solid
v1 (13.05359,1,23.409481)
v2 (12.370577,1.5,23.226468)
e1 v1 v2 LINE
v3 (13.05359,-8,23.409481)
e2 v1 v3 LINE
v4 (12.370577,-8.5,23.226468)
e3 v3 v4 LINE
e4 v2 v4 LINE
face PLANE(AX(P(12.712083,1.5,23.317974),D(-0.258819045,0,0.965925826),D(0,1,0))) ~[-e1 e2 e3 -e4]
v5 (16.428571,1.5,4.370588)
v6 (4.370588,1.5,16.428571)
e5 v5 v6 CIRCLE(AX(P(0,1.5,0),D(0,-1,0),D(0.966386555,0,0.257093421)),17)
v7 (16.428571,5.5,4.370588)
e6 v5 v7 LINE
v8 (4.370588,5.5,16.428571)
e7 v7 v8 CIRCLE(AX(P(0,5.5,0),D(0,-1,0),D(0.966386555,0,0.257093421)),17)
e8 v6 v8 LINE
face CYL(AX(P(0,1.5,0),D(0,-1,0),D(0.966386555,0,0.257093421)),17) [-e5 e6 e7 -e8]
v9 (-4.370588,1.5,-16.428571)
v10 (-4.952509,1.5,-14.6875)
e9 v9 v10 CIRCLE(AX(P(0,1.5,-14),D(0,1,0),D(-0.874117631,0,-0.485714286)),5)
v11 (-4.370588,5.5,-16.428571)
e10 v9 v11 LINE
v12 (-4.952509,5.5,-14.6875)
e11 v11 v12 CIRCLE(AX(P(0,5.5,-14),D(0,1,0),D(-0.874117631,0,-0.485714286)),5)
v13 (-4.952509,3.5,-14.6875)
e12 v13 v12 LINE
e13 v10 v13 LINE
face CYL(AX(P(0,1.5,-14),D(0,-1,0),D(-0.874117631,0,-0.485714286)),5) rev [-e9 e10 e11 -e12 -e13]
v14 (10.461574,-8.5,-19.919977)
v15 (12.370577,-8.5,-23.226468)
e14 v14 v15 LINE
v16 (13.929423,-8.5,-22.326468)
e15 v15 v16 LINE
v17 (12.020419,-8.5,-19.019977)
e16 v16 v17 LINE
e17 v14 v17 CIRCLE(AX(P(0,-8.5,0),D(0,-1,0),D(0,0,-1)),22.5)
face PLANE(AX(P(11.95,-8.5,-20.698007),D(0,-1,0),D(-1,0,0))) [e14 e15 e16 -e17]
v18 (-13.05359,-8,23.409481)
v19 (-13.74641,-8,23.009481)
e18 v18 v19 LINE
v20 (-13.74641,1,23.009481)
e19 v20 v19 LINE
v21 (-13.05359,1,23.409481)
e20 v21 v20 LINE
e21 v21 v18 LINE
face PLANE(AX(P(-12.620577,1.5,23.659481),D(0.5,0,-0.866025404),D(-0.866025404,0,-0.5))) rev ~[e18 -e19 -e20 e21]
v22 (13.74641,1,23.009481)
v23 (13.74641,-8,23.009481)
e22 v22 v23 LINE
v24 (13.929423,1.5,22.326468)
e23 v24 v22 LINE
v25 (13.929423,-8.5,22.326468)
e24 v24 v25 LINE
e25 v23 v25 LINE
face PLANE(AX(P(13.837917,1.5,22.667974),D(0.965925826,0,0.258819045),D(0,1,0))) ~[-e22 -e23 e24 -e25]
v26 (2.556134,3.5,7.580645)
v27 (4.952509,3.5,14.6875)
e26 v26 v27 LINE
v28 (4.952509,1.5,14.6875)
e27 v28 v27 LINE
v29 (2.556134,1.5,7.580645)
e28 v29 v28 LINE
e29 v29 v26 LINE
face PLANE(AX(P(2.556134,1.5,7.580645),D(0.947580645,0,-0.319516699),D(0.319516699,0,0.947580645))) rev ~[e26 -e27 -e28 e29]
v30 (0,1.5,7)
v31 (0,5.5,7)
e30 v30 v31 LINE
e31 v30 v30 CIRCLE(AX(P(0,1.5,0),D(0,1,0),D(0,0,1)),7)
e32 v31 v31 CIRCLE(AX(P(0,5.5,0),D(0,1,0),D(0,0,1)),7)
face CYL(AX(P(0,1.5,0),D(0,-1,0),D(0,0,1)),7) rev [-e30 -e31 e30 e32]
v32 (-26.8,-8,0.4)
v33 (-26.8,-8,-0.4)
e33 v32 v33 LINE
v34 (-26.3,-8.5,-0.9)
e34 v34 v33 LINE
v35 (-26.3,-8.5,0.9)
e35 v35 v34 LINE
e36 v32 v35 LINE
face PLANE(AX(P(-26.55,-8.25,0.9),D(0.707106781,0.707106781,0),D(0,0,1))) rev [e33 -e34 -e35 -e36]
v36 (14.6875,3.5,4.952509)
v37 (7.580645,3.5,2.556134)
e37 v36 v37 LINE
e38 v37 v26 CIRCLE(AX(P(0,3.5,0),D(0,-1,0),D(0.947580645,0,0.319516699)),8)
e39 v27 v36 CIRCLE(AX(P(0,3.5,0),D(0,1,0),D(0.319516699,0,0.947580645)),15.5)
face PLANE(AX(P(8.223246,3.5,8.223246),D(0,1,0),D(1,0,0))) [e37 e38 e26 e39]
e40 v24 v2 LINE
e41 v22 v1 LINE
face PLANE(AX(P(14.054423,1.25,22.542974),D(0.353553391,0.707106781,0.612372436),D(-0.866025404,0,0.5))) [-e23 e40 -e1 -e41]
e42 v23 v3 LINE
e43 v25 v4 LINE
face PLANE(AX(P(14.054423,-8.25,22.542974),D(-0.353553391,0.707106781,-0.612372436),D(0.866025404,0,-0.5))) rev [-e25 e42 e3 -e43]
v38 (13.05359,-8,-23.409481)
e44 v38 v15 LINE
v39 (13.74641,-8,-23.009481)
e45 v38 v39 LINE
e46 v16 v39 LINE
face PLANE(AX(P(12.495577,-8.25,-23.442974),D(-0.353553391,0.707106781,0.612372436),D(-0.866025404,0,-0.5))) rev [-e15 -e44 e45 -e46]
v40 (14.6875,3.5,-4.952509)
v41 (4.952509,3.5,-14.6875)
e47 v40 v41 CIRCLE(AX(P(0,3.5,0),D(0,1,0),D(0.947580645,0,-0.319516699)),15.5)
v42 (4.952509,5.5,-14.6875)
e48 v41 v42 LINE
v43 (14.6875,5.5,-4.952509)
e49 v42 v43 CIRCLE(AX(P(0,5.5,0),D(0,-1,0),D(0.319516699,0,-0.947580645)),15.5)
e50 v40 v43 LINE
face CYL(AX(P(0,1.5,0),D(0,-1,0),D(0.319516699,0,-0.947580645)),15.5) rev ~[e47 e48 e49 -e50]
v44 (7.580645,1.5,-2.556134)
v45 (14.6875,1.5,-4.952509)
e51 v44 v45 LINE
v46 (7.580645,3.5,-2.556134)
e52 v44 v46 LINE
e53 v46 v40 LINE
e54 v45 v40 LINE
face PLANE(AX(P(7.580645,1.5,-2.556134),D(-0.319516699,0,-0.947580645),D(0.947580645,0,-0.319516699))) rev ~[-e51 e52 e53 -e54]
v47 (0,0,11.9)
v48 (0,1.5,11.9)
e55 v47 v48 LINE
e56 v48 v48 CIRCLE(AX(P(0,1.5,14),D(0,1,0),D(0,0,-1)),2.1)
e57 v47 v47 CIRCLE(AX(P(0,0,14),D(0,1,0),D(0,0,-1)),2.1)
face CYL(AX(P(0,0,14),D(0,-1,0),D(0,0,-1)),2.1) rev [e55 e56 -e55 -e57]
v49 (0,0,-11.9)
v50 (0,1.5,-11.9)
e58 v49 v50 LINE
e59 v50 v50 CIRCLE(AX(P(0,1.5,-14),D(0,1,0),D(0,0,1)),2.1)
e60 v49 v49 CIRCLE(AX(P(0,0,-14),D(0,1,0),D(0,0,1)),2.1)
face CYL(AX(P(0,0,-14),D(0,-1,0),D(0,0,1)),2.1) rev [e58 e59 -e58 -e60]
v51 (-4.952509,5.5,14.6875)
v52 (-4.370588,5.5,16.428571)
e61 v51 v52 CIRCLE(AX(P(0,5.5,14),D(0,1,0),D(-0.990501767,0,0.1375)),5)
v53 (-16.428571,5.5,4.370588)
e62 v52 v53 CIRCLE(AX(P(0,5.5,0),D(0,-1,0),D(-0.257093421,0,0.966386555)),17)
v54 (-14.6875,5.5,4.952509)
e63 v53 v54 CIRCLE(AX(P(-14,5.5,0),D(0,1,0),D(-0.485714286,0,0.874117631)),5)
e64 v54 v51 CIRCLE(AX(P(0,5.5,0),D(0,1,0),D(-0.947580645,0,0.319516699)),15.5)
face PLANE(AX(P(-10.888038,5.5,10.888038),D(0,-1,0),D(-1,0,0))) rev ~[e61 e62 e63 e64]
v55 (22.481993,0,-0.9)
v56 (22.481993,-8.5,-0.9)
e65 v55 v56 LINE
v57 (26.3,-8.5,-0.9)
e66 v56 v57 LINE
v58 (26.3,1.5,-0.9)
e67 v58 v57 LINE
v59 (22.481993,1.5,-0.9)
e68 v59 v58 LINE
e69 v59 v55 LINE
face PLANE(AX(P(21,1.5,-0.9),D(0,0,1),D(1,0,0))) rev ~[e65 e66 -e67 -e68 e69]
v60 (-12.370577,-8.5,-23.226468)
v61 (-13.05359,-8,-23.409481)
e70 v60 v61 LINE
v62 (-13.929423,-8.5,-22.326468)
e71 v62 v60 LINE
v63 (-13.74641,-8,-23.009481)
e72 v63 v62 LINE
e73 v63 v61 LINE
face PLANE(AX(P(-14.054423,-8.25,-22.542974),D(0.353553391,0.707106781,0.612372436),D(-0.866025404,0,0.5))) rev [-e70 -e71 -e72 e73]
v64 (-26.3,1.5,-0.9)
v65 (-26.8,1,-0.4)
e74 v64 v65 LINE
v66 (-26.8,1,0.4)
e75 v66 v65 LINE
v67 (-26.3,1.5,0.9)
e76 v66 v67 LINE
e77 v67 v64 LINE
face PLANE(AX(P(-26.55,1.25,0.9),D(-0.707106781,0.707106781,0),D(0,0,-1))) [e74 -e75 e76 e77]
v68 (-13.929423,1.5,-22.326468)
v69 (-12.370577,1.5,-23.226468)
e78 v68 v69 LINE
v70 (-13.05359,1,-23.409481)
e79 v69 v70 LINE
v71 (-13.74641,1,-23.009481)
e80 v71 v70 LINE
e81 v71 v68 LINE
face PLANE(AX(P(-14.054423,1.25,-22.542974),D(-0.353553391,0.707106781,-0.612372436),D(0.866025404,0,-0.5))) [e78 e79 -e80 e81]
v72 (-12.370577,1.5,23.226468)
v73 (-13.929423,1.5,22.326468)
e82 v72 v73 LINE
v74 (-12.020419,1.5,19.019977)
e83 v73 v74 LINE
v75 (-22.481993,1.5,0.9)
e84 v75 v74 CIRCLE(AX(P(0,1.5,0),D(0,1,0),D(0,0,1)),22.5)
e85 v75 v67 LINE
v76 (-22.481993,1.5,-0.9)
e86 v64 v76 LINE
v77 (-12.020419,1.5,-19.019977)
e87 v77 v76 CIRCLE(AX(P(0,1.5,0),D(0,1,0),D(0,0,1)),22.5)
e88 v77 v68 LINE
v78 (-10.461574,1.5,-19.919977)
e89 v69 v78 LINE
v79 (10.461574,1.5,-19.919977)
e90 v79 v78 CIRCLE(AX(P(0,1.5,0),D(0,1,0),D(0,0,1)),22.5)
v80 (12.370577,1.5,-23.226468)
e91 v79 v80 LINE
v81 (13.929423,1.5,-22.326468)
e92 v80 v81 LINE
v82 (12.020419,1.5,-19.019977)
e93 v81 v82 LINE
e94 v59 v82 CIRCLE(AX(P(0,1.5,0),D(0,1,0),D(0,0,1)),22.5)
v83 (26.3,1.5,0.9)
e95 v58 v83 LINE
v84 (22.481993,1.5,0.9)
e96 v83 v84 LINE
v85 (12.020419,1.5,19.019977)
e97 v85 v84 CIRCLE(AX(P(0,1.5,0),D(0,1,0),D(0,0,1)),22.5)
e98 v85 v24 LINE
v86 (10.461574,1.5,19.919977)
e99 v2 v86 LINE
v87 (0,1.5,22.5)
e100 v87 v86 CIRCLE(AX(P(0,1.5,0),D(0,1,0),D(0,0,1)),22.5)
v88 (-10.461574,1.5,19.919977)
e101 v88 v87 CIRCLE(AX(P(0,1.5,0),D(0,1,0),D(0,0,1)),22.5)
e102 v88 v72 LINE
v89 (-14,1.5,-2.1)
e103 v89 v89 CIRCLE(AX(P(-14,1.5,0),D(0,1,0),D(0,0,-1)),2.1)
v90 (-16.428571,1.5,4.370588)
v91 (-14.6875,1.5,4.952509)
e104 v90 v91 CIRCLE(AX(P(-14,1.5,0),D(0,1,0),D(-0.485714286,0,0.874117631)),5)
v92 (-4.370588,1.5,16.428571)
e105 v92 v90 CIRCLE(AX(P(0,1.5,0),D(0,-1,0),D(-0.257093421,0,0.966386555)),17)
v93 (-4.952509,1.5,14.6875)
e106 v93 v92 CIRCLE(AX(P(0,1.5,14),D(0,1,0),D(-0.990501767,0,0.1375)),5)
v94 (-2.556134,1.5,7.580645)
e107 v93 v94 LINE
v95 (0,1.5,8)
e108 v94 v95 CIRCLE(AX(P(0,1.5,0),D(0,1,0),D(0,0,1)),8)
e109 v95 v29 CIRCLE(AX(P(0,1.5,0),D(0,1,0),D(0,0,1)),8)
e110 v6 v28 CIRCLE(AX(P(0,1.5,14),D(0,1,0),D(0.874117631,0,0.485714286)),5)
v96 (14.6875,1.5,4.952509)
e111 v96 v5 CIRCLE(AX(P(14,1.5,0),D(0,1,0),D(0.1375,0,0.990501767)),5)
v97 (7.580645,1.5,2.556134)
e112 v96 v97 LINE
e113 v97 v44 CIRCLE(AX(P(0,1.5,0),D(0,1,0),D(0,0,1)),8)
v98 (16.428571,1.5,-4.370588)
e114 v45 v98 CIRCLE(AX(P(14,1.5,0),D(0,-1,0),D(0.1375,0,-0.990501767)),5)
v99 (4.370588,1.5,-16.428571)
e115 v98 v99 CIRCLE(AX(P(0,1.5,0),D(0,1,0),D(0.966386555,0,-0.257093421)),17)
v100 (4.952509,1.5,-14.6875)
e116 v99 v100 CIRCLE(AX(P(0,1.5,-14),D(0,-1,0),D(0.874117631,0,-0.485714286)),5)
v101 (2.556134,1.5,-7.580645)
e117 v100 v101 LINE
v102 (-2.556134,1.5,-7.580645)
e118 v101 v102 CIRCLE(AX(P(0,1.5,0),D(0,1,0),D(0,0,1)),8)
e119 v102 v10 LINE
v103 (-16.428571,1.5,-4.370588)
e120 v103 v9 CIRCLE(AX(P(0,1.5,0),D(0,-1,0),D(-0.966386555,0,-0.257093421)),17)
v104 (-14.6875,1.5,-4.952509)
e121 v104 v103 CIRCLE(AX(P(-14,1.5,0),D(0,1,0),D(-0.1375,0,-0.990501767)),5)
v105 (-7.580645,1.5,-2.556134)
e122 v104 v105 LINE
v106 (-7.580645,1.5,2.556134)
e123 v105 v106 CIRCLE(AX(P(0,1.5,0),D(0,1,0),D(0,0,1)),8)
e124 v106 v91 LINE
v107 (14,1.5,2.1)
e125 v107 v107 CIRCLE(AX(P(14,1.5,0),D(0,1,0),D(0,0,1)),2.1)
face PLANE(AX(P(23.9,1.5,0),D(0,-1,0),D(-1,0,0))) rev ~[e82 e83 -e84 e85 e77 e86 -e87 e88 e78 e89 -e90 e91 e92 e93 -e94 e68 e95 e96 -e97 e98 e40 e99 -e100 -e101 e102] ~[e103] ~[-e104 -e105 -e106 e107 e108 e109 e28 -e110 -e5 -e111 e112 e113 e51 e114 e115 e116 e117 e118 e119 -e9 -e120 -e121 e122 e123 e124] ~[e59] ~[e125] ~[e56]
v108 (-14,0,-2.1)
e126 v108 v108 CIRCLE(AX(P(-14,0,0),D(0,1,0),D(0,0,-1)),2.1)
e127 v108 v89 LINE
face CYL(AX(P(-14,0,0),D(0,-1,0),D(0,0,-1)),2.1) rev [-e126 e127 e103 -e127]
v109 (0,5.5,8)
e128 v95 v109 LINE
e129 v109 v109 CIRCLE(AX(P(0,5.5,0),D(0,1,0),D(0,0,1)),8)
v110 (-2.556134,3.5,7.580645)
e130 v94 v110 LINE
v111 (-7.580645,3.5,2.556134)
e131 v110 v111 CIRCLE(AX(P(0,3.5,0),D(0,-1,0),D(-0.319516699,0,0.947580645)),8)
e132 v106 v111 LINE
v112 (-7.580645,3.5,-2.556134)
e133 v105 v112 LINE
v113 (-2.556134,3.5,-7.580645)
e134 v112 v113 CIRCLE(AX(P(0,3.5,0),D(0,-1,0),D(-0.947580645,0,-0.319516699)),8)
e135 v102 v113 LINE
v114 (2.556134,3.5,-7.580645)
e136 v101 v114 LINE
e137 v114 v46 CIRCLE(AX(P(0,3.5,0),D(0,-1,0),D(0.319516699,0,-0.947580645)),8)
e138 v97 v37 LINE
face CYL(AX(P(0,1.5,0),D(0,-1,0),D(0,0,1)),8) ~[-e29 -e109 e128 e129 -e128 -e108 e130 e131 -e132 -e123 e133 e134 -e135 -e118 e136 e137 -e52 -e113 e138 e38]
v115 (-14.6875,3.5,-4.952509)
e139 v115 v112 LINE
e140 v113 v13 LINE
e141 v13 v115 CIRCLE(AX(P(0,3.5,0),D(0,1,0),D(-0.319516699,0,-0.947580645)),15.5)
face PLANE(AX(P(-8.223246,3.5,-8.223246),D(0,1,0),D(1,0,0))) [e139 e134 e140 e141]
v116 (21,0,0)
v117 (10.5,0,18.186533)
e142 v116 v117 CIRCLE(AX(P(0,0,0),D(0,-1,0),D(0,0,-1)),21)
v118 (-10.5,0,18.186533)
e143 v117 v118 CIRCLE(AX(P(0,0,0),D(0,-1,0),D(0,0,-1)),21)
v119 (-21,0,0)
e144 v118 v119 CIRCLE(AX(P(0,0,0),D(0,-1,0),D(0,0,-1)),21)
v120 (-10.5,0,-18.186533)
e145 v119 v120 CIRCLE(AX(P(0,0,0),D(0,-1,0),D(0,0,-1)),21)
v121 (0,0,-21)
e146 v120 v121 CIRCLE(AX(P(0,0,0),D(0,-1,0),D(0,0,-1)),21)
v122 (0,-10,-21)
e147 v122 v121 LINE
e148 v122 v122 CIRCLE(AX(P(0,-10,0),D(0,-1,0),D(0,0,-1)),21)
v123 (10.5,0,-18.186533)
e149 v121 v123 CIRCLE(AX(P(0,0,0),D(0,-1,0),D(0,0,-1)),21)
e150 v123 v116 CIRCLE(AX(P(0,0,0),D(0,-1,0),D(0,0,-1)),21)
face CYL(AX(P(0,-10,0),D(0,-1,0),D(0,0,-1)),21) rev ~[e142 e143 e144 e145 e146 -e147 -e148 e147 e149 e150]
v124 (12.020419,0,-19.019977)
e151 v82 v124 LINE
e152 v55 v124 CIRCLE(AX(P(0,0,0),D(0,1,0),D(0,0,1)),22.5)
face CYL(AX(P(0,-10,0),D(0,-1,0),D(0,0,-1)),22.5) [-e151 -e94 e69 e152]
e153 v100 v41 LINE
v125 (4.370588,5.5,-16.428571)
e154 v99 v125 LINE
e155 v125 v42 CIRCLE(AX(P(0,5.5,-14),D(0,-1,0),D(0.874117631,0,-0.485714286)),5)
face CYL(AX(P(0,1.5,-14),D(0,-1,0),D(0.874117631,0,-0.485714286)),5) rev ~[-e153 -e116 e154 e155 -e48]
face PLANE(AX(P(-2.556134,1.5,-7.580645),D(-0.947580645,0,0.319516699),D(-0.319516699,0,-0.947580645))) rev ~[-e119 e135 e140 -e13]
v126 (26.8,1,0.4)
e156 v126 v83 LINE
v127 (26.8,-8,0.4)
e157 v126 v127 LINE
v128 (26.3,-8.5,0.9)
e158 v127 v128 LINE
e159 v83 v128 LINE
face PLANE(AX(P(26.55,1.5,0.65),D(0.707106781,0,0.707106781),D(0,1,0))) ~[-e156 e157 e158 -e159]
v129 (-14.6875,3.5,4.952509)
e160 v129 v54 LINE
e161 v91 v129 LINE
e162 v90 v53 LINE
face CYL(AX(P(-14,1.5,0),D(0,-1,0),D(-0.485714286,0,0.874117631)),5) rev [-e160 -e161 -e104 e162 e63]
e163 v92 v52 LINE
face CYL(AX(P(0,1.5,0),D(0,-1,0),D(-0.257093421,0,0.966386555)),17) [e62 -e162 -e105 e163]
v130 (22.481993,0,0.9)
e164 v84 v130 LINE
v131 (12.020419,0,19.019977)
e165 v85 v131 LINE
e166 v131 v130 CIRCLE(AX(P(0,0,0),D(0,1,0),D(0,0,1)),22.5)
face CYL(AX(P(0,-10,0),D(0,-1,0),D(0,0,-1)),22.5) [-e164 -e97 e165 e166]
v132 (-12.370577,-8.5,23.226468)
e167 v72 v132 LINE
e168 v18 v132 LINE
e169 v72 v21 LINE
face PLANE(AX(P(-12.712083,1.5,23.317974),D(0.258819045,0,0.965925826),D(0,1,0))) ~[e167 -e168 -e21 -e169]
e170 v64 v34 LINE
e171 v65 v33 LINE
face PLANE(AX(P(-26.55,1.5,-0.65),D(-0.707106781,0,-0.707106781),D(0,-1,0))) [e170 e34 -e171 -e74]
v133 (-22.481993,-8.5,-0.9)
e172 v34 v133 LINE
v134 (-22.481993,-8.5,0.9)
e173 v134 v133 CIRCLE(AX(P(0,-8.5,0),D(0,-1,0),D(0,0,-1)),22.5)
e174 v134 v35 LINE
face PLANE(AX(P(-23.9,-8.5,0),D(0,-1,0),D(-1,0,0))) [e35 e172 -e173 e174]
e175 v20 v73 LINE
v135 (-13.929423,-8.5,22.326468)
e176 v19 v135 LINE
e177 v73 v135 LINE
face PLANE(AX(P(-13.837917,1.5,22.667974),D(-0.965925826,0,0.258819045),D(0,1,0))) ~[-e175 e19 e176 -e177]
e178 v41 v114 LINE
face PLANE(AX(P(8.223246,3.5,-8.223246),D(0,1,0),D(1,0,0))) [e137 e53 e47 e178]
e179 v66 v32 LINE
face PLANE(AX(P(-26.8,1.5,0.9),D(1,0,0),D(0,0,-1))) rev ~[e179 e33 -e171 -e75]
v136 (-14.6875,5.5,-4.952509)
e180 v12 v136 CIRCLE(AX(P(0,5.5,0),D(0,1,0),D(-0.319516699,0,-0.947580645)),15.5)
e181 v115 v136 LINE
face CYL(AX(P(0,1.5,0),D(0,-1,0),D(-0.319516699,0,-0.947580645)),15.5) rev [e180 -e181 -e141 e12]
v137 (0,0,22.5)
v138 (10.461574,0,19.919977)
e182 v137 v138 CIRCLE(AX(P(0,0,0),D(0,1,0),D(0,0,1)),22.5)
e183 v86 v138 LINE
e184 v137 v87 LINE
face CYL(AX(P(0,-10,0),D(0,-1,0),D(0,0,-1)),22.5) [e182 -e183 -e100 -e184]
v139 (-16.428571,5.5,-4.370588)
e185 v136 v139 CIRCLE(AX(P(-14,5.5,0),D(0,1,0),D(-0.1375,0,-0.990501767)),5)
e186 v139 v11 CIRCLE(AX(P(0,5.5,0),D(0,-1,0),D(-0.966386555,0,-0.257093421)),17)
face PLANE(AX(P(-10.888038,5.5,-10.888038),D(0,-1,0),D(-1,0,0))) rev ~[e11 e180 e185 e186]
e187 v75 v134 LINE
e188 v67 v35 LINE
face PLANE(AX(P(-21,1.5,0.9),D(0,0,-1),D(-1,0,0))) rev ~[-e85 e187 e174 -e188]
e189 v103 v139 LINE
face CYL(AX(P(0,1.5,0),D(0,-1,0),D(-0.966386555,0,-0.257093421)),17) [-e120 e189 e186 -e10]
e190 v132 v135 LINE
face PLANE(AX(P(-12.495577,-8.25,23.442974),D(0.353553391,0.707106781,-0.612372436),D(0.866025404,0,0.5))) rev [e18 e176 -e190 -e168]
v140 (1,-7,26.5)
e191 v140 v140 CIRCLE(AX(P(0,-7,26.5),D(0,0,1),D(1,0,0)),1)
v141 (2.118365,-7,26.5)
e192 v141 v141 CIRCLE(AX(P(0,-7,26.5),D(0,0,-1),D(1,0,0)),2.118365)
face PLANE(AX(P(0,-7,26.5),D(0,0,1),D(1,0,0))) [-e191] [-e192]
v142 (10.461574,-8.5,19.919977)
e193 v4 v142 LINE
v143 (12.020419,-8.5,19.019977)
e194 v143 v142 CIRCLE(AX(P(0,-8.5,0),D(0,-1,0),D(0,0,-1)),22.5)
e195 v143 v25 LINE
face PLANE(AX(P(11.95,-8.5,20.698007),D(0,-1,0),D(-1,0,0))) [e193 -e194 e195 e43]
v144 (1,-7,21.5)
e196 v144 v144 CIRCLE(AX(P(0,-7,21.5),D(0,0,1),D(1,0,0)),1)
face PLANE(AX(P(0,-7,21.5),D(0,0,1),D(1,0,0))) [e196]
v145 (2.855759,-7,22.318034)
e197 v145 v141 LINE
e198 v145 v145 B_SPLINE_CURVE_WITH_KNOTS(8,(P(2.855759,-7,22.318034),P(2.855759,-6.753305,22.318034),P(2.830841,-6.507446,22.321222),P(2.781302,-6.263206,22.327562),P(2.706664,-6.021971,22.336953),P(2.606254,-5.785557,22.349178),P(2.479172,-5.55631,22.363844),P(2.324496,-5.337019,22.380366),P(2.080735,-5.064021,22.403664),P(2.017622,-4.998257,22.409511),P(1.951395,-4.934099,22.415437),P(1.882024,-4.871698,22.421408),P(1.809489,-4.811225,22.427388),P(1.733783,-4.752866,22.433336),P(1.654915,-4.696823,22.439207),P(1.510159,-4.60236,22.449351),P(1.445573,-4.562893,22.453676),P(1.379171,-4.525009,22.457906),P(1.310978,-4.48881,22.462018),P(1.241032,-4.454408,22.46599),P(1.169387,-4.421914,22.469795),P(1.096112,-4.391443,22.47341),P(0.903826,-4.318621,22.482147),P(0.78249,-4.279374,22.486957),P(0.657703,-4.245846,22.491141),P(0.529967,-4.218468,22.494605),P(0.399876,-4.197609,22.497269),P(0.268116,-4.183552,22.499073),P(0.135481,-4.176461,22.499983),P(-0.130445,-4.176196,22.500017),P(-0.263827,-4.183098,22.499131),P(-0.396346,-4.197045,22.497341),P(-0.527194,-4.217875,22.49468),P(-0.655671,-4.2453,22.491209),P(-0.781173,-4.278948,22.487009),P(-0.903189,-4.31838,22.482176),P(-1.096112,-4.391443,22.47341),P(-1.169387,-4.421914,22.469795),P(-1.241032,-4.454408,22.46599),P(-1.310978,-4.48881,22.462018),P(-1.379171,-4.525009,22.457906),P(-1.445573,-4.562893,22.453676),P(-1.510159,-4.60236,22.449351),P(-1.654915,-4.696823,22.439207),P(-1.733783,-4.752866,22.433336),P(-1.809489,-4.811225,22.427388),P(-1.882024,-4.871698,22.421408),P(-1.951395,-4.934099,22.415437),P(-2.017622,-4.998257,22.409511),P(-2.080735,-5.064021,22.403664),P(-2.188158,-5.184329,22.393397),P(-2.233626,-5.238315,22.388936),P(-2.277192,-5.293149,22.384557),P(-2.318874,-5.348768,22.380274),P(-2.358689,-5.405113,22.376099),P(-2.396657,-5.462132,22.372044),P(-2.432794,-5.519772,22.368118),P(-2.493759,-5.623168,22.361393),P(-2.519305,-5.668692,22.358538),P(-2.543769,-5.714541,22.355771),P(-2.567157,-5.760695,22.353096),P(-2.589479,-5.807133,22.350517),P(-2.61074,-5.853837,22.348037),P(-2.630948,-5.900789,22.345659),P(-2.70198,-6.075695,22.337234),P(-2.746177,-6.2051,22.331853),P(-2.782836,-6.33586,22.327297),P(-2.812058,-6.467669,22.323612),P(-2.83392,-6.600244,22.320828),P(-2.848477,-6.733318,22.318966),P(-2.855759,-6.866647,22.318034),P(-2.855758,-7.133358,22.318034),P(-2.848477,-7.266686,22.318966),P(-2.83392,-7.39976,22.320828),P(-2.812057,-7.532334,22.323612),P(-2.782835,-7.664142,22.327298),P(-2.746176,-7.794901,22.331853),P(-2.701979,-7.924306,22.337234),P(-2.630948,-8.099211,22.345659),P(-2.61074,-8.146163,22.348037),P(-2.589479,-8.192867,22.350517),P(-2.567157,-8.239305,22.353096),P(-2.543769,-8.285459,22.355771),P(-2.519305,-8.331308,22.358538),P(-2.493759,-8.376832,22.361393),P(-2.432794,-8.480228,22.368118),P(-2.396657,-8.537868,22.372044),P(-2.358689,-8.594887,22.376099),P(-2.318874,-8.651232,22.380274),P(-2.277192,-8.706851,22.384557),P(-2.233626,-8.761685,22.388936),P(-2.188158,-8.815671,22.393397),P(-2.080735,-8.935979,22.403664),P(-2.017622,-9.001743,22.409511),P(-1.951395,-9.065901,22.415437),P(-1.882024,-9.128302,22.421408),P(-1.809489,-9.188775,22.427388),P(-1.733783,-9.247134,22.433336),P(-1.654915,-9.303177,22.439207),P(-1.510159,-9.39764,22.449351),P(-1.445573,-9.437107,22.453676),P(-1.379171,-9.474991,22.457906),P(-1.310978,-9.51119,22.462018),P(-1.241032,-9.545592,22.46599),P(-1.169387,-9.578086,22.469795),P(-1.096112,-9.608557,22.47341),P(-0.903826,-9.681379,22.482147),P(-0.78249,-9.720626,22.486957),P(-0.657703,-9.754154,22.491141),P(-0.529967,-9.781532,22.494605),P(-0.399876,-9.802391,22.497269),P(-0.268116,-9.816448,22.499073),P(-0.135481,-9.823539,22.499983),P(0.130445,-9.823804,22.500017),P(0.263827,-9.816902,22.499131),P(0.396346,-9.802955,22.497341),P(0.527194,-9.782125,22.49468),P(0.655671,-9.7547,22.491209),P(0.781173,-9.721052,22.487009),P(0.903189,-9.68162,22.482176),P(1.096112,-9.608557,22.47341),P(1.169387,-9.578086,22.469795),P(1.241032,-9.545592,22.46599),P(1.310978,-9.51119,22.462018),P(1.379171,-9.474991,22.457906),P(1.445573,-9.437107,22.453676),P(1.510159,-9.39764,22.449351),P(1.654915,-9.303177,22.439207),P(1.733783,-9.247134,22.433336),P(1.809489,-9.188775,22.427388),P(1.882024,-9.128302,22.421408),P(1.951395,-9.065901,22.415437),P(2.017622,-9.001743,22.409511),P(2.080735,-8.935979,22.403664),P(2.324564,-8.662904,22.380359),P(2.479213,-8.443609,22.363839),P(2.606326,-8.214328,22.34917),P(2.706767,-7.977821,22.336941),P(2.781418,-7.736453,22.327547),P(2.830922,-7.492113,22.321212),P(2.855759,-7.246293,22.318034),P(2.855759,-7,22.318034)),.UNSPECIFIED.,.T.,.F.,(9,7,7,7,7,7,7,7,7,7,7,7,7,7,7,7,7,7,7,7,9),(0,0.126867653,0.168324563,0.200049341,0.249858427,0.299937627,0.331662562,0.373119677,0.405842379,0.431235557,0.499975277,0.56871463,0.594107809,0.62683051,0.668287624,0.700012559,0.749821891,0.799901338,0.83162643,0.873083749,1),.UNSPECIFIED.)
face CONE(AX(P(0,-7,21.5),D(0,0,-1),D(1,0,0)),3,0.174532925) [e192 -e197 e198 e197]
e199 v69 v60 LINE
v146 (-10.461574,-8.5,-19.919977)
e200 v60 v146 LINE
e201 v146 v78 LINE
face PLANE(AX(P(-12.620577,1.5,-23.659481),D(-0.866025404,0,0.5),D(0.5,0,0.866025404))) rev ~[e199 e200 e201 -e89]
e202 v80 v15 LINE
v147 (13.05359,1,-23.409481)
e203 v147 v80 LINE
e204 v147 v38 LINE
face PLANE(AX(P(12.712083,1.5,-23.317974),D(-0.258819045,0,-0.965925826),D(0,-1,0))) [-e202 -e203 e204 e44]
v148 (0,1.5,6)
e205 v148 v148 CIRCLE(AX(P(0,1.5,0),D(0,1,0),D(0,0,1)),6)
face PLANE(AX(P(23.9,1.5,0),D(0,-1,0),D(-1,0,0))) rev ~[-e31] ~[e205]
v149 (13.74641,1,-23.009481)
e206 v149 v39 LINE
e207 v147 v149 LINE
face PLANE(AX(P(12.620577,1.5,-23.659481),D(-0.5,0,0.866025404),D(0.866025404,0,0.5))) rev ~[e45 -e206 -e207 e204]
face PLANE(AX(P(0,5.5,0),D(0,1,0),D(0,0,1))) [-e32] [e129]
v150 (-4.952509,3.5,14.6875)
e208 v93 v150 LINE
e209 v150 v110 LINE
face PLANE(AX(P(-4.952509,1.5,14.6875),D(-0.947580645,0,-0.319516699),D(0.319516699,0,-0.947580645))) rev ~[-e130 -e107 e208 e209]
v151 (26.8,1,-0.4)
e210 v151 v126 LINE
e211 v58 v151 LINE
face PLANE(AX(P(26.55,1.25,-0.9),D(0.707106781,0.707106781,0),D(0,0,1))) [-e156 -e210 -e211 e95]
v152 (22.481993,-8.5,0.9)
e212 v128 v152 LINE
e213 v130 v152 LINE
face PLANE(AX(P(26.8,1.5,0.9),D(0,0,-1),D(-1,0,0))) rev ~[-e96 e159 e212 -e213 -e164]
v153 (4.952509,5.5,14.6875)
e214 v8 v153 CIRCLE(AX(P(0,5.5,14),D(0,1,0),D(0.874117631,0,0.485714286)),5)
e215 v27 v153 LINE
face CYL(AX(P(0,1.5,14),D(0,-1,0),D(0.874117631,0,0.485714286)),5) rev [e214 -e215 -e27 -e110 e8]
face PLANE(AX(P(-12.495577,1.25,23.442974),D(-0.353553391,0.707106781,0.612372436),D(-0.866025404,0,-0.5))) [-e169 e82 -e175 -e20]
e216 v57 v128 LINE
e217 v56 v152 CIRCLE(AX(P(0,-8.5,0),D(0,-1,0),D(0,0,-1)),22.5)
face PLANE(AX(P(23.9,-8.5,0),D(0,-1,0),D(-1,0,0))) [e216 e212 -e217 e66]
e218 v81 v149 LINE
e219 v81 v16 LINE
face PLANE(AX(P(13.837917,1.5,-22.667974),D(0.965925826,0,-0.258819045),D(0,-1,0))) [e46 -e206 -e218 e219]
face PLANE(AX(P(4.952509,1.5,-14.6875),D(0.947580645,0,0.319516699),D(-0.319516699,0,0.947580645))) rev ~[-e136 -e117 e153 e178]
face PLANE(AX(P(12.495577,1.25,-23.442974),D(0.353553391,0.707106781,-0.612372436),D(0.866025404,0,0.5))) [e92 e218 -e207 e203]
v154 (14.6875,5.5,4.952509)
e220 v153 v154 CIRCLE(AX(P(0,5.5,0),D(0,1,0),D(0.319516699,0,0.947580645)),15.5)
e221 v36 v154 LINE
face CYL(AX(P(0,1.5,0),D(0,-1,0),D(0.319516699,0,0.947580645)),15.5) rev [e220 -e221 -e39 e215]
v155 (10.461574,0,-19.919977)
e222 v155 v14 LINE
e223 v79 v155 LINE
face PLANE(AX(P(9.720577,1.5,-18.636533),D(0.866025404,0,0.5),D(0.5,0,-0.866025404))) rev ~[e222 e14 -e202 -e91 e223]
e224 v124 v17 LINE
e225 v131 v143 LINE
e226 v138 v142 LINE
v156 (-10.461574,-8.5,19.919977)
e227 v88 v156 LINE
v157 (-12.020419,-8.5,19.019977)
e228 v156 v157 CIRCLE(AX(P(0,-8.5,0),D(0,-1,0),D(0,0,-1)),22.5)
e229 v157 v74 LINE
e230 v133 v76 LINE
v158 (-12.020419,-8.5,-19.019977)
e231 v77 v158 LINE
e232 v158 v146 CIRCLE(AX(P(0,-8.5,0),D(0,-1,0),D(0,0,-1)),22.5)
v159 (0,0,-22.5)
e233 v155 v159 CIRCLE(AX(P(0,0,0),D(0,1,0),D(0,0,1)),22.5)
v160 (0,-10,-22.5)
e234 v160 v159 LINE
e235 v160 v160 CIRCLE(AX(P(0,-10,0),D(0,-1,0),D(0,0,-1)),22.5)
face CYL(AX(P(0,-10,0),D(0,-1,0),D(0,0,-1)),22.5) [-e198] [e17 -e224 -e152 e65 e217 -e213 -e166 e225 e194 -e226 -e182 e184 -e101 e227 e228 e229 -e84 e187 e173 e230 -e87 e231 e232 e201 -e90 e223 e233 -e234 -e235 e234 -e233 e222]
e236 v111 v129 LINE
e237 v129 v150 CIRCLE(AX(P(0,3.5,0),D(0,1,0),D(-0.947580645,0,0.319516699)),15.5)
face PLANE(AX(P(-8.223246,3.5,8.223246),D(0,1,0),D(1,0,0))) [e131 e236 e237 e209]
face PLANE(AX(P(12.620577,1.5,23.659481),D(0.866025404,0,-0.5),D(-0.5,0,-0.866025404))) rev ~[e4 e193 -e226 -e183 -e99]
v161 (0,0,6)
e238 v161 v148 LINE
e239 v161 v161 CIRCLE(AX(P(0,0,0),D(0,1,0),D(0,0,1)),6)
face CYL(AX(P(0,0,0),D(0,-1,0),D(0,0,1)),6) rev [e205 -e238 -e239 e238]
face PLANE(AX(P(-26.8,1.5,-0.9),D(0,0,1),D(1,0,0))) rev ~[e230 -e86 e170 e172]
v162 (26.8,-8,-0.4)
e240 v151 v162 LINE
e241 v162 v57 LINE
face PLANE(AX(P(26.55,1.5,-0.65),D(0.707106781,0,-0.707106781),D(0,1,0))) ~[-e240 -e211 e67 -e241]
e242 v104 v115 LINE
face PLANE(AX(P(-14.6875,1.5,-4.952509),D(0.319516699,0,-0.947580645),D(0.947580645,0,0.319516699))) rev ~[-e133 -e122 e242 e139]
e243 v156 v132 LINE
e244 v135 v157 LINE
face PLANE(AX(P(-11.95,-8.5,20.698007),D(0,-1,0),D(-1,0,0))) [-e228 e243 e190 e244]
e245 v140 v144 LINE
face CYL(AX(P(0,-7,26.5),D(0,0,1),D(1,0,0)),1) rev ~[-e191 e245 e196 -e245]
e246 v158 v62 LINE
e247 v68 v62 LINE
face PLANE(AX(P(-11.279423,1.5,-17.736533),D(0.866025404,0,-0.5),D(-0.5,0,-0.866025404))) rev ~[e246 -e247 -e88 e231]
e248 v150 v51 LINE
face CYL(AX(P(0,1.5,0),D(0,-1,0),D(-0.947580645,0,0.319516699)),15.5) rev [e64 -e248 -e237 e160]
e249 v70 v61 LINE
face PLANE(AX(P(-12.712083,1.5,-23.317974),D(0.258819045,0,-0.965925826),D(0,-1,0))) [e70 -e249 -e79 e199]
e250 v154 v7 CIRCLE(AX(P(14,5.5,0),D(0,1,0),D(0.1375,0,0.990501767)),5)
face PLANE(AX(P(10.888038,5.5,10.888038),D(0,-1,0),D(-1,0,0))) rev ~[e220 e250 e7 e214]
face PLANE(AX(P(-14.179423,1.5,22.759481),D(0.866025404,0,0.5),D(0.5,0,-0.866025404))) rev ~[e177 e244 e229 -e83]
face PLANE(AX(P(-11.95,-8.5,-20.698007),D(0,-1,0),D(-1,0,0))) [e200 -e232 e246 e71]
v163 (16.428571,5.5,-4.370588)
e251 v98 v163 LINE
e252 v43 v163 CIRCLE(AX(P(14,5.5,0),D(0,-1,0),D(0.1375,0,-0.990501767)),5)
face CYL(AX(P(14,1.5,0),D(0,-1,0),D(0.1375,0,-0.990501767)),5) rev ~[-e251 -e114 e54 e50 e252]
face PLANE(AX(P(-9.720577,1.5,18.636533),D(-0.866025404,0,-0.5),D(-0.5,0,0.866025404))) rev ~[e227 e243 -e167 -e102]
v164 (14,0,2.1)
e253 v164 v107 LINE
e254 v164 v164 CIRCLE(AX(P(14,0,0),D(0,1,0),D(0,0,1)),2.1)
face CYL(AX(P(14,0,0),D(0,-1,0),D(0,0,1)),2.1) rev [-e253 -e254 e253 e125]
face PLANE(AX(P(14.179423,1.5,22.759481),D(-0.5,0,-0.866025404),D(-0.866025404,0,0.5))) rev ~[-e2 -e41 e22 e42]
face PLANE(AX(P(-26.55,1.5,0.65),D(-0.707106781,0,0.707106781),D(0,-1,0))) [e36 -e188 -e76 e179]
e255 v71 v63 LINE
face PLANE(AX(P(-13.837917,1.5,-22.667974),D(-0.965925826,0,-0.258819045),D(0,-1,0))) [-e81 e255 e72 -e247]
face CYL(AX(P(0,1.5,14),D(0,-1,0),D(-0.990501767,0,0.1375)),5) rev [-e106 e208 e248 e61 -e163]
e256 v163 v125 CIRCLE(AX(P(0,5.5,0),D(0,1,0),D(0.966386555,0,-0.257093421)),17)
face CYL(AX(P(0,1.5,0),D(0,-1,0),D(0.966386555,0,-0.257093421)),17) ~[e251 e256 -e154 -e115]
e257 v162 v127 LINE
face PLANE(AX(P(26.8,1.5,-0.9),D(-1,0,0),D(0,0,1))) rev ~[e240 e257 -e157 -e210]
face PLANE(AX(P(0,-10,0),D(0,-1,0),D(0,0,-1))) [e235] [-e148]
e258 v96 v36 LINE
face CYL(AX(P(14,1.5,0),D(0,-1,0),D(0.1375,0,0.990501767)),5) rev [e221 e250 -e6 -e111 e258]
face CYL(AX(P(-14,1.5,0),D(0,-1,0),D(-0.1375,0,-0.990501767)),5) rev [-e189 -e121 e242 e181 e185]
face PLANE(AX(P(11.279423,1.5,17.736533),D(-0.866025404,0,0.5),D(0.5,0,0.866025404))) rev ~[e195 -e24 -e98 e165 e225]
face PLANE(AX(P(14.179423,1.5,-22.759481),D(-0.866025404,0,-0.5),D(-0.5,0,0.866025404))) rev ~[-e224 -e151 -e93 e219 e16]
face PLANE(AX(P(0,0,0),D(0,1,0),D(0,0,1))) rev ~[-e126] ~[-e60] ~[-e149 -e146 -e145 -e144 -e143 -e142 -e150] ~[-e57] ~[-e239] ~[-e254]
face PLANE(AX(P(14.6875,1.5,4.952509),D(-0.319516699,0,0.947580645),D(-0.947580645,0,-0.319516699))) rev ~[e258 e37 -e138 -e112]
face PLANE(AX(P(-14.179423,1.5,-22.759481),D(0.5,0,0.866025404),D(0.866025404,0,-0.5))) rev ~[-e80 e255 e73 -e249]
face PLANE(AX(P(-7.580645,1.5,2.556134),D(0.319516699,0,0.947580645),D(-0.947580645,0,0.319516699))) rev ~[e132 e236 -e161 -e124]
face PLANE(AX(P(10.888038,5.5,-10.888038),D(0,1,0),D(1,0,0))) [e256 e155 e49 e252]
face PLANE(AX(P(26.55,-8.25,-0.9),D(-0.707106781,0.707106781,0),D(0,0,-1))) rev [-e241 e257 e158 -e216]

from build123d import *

# Parameters (mm, degrees)
SKETCH_2_R          = 22.5
SKETCH_2_R_2        = 2.0999999999999956
SKETCH_2_R_3        = 2.1
SKETCH_2_R_4        = 2.0999999999999974
SKETCH_2_R_5        = 6
EXTRUDE_1_DEPTH     = 1.5
EXTRUDE_START       = 10
SKETCH_4_R          = 22.500000000000004
SKETCH_4_R_2        = 21
EXTRUDE_2_DEPTH     = 10
EXTRUDE_3_DEPTH     = 10
SKETCH_6_R          = 8
SKETCH_6_R_2        = 7
EXTRUDE_4_DEPTH     = 4
EXTRUDE_5_DEPTH     = 2
CHAMFER_1_SIZE      = 0.5
EXTRUDE_START_2     = 21.5
SKETCH_9_R          = 3
EXTRUDE_6_DEPTH     = 5
EXTRUDE_6_TAPER     = 10.000000000000021
SKETCH_10_R         = 1
CUT_EXTRUDE_1_DEPTH = 5


with BuildPart() as part:
    # 草图2 → 凸台-拉伸1 (new body)
    with BuildSketch(Plane(origin=(0, 0, 0), x_dir=(1, 0, 0), z_dir=(0, 1, 0))):
        with Locations(Location((0, 0, 0), (0, 0, 270))):
            Circle(SKETCH_2_R)
        with Locations(Location((14, 0, 0), (0, 0, 270))):
            Circle(SKETCH_2_R_2, mode=Mode.SUBTRACT)
        with Locations(Location((0, 14, 0), (0, 0, 270))):
            Circle(SKETCH_2_R_3, mode=Mode.SUBTRACT)
        with Locations(Location((0, -14, 0), (0, 0, 90))):
            Circle(SKETCH_2_R_3, mode=Mode.SUBTRACT)
        with Locations(Location((-13.999999999999993, -3.43e-15, 0), (0, 0, 90))):
            Circle(SKETCH_2_R_4, mode=Mode.SUBTRACT)
        with Locations(Location((0, 0, 0), (0, 0, 270))):
            Circle(SKETCH_2_R_5, mode=Mode.SUBTRACT)
    extrude(amount=EXTRUDE_1_DEPTH)

    # 草图4 → 凸台-拉伸2 (add)
    with BuildSketch(Plane.XZ.offset(EXTRUDE_START)):
        with Locations(Location((0, 0, 0), (0, 0, 270))):
            Circle(SKETCH_4_R)
        with Locations(Location((0, 0, 0), (0, 0, 270))):
            Circle(SKETCH_4_R_2, mode=Mode.SUBTRACT)
    extrude(amount=-EXTRUDE_2_DEPTH)

    # 草图5 → 凸台-拉伸3 (add)
    with BuildSketch(Plane(origin=(0, 1.5, 0), x_dir=(1, 0, 0), z_dir=(0, 1, 0))):
        Polygon((26.8, 0.9), (26.8, -0.9), (21, -0.9000000000000008), (21, 0.9000000000000008), align=None)
        Polygon((12.620577136594008, -23.659480821422953), (9.720577136594008, -18.63653347947321), (11.279422863405998, -17.736533479473213), (14.179422863405998, -22.759480821422954), align=None)
        Polygon((-14.179422863405991, -22.759480821422965), (-11.279422863405994, -17.736533479473213), (-9.720577136594002, -18.636533479473215), (-12.620577136594001, -23.65948082142296), align=None)
        Polygon((-26.8, 0.8999999999999966), (-21, 0.8999999999999982), (-21, -0.9000000000000035), (-26.8, -0.9000000000000032), align=None)
        Polygon((-12.620577136594019, 23.65948082142295), (-9.720577136594015, 18.63653347947321), (-11.279422863406003, 17.73653347947321), (-14.179422863406007, 22.75948082142295), align=None)
        Polygon((14.179422863405977, 22.75948082142297), (11.279422863405983, 17.736533479473216), (9.72057713659399, 18.63653347947322), (12.620577136593988, 23.659480821422964), align=None)
    extrude(amount=-EXTRUDE_3_DEPTH)

    # 草图6 → 凸台-拉伸4 (add)
    # profile 1 of 5: a face of its own
    with BuildSketch(Plane(origin=(0, 1.5, 0), x_dir=(1, 0, 0), z_dir=(0, 1, 0))):
        with Locations(Location((0, 0, 0), (0, 0, 270))):
            Circle(SKETCH_6_R)
        with Locations(Location((0, 0, 0), (0, 0, 270))):
            Circle(SKETCH_6_R_2, mode=Mode.SUBTRACT)
    # profile 2 of 5: a face of its own
    with BuildSketch(Plane(origin=(0, 1.5, 0), x_dir=(1, 0, 0), z_dir=(0, 1, 0))):
        with BuildLine():
            ThreePointArc((16.42857142857143, 4.370588154508102), (12.02081528017131, 12.020815280171309), (4.370588154508102, 16.42857142857143))
            ThreePointArc((4.370588154508102, 16.42857142857143), (4.74213736554837, 15.584971042722852), (4.952508833914383, 14.6875))
            ThreePointArc((4.952508833914383, 14.6875), (10.960155108391488, 10.960155108391486), (14.687500000000002, 4.952508833914381))
            ThreePointArc((14.687500000000002, 4.952508833914381), (15.584971042722852, 4.742137365548372), (16.42857142857143, 4.370588154508102))
        make_face()
    # profile 3 of 5: a face of its own
    with BuildSketch(Plane(origin=(0, 1.5, 0), x_dir=(1, 0, 0), z_dir=(0, 1, 0))):
        with BuildLine():
            ThreePointArc((4.370588154508102, -16.42857142857143), (4.742137365548372, -15.584971042722852), (4.952508833914385, -14.6875))
            ThreePointArc((4.952508833914385, -14.6875), (10.960155108391488, -10.960155108391486), (14.687500000000002, -4.952508833914381))
            ThreePointArc((14.687500000000002, -4.952508833914381), (15.584971042722852, -4.742137365548368), (16.42857142857143, -4.370588154508102))
            ThreePointArc((16.42857142857143, -4.370588154508102), (12.02081528017131, -12.020815280171309), (4.370588154508102, -16.42857142857143))
        make_face()
    # profile 4 of 5: a face of its own
    with BuildSketch(Plane(origin=(0, 1.5, 0), x_dir=(1, 0, 0), z_dir=(0, 1, 0))):
        with BuildLine():
            ThreePointArc((-14.687500000000002, 4.952508833914374), (-15.584971042722852, 4.742137365548359), (-16.42857142857143, 4.370588154508093))
            ThreePointArc((-16.42857142857143, 4.370588154508093), (-12.020815280171314, 12.020815280171306), (-4.370588154508102, 16.42857142857143))
            ThreePointArc((-4.370588154508102, 16.42857142857143), (-4.742137365548372, 15.584971042722854), (-4.952508833914383, 14.6875))
            ThreePointArc((-4.952508833914383, 14.6875), (-10.960155108391486, 10.960155108391488), (-14.687500000000002, 4.952508833914374))
        make_face()
    # profile 5 of 5: a face of its own
    with BuildSketch(Plane(origin=(0, 1.5, 0), x_dir=(1, 0, 0), z_dir=(0, 1, 0))):
        with BuildLine():
            ThreePointArc((-4.952508833914385, -14.6875), (-4.742137365548372, -15.584971042722854), (-4.370588154508102, -16.42857142857143))
            ThreePointArc((-4.370588154508102, -16.42857142857143), (-12.020815280171309, -12.02081528017131), (-16.42857142857143, -4.370588154508101))
            ThreePointArc((-16.42857142857143, -4.370588154508101), (-15.584971042722854, -4.742137365548372), (-14.687500000000002, -4.952508833914382))
            ThreePointArc((-14.687500000000002, -4.952508833914382), (-10.960155108391486, -10.960155108391488), (-4.952508833914385, -14.6875))
        make_face()
    extrude(amount=EXTRUDE_4_DEPTH)

    # 草图7 → 凸台-拉伸5 (add)
    with BuildSketch(Plane(origin=(0, 1.5, 0), x_dir=(1, 0, 0), z_dir=(0, 1, 0))):
        with BuildLine():
            Line((14.687500000000002, -4.952508833914384), (7.580645161290323, -2.5561335916977446))
            ThreePointArc((7.580645161290323, -2.5561335916977446), (5.6568542494923815, -5.656854249492379), (2.5561335916977472, -7.580645161290323))
            Line((2.5561335916977472, -7.580645161290323), (4.952508833914385, -14.6875))
            ThreePointArc((4.952508833914385, -14.6875), (10.960155108391488, -10.960155108391486), (14.687500000000002, -4.952508833914384))
        make_face()
        with BuildLine():
            Line((-4.952508833914393, -14.6875), (-2.5561335916977583, -7.580645161290323))
            ThreePointArc((-2.5561335916977583, -7.580645161290323), (-5.656854249492388, -5.656854249492378), (-7.580645161290336, -2.5561335916977517))
            Line((-7.580645161290336, -2.5561335916977517), (-14.687500000000014, -4.952508833914387))
            ThreePointArc((-14.687500000000014, -4.952508833914387), (-10.960155108391493, -10.960155108391485), (-4.952508833914393, -14.6875))
        make_face()
        with BuildLine():
            Line((-14.687500000000014, 4.952508833914387), (-7.580645161290336, 2.5561335916977517))
            ThreePointArc((-7.580645161290336, 2.5561335916977517), (-5.656854249492388, 5.656854249492378), (-2.5561335916977583, 7.580645161290323))
            Line((-2.5561335916977583, 7.580645161290323), (-4.952508833914393, 14.6875))
            ThreePointArc((-4.952508833914393, 14.6875), (-10.960155108391493, 10.960155108391485), (-14.687500000000014, 4.952508833914387))
        make_face()
        with BuildLine():
            Line((4.952508833914385, 14.6875), (2.5561335916977472, 7.580645161290323))
            ThreePointArc((2.5561335916977472, 7.580645161290323), (5.6568542494923815, 5.656854249492379), (7.580645161290323, 2.5561335916977446))
            Line((7.580645161290323, 2.5561335916977446), (14.687500000000002, 4.952508833914381))
            ThreePointArc((14.687500000000002, 4.952508833914381), (10.960155108391488, 10.960155108391486), (4.952508833914385, 14.6875))
        make_face()
    extrude(amount=EXTRUDE_5_DEPTH)

    # 倒角1
    chamfer_1_edges = [part.edges().sort_by_distance(p)[0] for p in [
        (-26.8, -3.5, -0.8999999999999966),
        (-26.8, -8.5, 3.33e-15),
        (-26.8, -3.5, 0.9000000000000032),
        (-26.8, 1.5, 3.33e-15),
        (-12.620577136594019, -3.5, -23.65948082142295),
        (-13.400000000000013, -8.5, -23.20948082142295),
        (-14.179422863406007, -3.5, -22.75948082142295),
        (-13.400000000000013, 1.5, -23.20948082142295),
        (14.179422863405977, -3.5, -22.75948082142297),
        (13.399999999999983, -8.5, -23.209480821422964),
        (12.620577136593988, -3.5, -23.659480821422964),
        (13.399999999999983, 1.5, -23.209480821422964),
        (26.8, -3.5, 0.9),
        (26.8, -8.5, 0),
        (26.8, -3.5, -0.9),
        (26.8, 1.5, 0),
        (12.620577136594008, -3.5, 23.659480821422953),
        (13.400000000000002, -8.5, 23.209480821422954),
        (14.179422863405998, -3.5, 22.759480821422954),
        (13.400000000000002, 1.5, 23.209480821422954),
        (-14.179422863405991, -3.5, 22.759480821422965),
        (-13.399999999999995, -8.5, 23.209480821422964),
        (-12.620577136594001, -3.5, 23.65948082142296),
        (-13.399999999999995, 1.5, 23.209480821422964),
    ]]
    chamfer(chamfer_1_edges, length=CHAMFER_1_SIZE)

    # 草图9 → 凸台-拉伸6 (add)
    with BuildSketch(Plane.XY.offset(EXTRUDE_START_2)):
        with Locations((8.6e-16, -7)):
            Circle(SKETCH_9_R)
    extrude(amount=EXTRUDE_6_DEPTH, taper=EXTRUDE_6_TAPER)

    # 草图10 → 切除-拉伸1 (cut)
    with BuildSketch(Plane.XY.offset(26.5)):
        with Locations((8.6e-16, -7)):
            Circle(SKETCH_10_R)
    extrude(amount=-CUT_EXTRUDE_1_DEPTH, mode=Mode.SUBTRACT)


solid = part.part
